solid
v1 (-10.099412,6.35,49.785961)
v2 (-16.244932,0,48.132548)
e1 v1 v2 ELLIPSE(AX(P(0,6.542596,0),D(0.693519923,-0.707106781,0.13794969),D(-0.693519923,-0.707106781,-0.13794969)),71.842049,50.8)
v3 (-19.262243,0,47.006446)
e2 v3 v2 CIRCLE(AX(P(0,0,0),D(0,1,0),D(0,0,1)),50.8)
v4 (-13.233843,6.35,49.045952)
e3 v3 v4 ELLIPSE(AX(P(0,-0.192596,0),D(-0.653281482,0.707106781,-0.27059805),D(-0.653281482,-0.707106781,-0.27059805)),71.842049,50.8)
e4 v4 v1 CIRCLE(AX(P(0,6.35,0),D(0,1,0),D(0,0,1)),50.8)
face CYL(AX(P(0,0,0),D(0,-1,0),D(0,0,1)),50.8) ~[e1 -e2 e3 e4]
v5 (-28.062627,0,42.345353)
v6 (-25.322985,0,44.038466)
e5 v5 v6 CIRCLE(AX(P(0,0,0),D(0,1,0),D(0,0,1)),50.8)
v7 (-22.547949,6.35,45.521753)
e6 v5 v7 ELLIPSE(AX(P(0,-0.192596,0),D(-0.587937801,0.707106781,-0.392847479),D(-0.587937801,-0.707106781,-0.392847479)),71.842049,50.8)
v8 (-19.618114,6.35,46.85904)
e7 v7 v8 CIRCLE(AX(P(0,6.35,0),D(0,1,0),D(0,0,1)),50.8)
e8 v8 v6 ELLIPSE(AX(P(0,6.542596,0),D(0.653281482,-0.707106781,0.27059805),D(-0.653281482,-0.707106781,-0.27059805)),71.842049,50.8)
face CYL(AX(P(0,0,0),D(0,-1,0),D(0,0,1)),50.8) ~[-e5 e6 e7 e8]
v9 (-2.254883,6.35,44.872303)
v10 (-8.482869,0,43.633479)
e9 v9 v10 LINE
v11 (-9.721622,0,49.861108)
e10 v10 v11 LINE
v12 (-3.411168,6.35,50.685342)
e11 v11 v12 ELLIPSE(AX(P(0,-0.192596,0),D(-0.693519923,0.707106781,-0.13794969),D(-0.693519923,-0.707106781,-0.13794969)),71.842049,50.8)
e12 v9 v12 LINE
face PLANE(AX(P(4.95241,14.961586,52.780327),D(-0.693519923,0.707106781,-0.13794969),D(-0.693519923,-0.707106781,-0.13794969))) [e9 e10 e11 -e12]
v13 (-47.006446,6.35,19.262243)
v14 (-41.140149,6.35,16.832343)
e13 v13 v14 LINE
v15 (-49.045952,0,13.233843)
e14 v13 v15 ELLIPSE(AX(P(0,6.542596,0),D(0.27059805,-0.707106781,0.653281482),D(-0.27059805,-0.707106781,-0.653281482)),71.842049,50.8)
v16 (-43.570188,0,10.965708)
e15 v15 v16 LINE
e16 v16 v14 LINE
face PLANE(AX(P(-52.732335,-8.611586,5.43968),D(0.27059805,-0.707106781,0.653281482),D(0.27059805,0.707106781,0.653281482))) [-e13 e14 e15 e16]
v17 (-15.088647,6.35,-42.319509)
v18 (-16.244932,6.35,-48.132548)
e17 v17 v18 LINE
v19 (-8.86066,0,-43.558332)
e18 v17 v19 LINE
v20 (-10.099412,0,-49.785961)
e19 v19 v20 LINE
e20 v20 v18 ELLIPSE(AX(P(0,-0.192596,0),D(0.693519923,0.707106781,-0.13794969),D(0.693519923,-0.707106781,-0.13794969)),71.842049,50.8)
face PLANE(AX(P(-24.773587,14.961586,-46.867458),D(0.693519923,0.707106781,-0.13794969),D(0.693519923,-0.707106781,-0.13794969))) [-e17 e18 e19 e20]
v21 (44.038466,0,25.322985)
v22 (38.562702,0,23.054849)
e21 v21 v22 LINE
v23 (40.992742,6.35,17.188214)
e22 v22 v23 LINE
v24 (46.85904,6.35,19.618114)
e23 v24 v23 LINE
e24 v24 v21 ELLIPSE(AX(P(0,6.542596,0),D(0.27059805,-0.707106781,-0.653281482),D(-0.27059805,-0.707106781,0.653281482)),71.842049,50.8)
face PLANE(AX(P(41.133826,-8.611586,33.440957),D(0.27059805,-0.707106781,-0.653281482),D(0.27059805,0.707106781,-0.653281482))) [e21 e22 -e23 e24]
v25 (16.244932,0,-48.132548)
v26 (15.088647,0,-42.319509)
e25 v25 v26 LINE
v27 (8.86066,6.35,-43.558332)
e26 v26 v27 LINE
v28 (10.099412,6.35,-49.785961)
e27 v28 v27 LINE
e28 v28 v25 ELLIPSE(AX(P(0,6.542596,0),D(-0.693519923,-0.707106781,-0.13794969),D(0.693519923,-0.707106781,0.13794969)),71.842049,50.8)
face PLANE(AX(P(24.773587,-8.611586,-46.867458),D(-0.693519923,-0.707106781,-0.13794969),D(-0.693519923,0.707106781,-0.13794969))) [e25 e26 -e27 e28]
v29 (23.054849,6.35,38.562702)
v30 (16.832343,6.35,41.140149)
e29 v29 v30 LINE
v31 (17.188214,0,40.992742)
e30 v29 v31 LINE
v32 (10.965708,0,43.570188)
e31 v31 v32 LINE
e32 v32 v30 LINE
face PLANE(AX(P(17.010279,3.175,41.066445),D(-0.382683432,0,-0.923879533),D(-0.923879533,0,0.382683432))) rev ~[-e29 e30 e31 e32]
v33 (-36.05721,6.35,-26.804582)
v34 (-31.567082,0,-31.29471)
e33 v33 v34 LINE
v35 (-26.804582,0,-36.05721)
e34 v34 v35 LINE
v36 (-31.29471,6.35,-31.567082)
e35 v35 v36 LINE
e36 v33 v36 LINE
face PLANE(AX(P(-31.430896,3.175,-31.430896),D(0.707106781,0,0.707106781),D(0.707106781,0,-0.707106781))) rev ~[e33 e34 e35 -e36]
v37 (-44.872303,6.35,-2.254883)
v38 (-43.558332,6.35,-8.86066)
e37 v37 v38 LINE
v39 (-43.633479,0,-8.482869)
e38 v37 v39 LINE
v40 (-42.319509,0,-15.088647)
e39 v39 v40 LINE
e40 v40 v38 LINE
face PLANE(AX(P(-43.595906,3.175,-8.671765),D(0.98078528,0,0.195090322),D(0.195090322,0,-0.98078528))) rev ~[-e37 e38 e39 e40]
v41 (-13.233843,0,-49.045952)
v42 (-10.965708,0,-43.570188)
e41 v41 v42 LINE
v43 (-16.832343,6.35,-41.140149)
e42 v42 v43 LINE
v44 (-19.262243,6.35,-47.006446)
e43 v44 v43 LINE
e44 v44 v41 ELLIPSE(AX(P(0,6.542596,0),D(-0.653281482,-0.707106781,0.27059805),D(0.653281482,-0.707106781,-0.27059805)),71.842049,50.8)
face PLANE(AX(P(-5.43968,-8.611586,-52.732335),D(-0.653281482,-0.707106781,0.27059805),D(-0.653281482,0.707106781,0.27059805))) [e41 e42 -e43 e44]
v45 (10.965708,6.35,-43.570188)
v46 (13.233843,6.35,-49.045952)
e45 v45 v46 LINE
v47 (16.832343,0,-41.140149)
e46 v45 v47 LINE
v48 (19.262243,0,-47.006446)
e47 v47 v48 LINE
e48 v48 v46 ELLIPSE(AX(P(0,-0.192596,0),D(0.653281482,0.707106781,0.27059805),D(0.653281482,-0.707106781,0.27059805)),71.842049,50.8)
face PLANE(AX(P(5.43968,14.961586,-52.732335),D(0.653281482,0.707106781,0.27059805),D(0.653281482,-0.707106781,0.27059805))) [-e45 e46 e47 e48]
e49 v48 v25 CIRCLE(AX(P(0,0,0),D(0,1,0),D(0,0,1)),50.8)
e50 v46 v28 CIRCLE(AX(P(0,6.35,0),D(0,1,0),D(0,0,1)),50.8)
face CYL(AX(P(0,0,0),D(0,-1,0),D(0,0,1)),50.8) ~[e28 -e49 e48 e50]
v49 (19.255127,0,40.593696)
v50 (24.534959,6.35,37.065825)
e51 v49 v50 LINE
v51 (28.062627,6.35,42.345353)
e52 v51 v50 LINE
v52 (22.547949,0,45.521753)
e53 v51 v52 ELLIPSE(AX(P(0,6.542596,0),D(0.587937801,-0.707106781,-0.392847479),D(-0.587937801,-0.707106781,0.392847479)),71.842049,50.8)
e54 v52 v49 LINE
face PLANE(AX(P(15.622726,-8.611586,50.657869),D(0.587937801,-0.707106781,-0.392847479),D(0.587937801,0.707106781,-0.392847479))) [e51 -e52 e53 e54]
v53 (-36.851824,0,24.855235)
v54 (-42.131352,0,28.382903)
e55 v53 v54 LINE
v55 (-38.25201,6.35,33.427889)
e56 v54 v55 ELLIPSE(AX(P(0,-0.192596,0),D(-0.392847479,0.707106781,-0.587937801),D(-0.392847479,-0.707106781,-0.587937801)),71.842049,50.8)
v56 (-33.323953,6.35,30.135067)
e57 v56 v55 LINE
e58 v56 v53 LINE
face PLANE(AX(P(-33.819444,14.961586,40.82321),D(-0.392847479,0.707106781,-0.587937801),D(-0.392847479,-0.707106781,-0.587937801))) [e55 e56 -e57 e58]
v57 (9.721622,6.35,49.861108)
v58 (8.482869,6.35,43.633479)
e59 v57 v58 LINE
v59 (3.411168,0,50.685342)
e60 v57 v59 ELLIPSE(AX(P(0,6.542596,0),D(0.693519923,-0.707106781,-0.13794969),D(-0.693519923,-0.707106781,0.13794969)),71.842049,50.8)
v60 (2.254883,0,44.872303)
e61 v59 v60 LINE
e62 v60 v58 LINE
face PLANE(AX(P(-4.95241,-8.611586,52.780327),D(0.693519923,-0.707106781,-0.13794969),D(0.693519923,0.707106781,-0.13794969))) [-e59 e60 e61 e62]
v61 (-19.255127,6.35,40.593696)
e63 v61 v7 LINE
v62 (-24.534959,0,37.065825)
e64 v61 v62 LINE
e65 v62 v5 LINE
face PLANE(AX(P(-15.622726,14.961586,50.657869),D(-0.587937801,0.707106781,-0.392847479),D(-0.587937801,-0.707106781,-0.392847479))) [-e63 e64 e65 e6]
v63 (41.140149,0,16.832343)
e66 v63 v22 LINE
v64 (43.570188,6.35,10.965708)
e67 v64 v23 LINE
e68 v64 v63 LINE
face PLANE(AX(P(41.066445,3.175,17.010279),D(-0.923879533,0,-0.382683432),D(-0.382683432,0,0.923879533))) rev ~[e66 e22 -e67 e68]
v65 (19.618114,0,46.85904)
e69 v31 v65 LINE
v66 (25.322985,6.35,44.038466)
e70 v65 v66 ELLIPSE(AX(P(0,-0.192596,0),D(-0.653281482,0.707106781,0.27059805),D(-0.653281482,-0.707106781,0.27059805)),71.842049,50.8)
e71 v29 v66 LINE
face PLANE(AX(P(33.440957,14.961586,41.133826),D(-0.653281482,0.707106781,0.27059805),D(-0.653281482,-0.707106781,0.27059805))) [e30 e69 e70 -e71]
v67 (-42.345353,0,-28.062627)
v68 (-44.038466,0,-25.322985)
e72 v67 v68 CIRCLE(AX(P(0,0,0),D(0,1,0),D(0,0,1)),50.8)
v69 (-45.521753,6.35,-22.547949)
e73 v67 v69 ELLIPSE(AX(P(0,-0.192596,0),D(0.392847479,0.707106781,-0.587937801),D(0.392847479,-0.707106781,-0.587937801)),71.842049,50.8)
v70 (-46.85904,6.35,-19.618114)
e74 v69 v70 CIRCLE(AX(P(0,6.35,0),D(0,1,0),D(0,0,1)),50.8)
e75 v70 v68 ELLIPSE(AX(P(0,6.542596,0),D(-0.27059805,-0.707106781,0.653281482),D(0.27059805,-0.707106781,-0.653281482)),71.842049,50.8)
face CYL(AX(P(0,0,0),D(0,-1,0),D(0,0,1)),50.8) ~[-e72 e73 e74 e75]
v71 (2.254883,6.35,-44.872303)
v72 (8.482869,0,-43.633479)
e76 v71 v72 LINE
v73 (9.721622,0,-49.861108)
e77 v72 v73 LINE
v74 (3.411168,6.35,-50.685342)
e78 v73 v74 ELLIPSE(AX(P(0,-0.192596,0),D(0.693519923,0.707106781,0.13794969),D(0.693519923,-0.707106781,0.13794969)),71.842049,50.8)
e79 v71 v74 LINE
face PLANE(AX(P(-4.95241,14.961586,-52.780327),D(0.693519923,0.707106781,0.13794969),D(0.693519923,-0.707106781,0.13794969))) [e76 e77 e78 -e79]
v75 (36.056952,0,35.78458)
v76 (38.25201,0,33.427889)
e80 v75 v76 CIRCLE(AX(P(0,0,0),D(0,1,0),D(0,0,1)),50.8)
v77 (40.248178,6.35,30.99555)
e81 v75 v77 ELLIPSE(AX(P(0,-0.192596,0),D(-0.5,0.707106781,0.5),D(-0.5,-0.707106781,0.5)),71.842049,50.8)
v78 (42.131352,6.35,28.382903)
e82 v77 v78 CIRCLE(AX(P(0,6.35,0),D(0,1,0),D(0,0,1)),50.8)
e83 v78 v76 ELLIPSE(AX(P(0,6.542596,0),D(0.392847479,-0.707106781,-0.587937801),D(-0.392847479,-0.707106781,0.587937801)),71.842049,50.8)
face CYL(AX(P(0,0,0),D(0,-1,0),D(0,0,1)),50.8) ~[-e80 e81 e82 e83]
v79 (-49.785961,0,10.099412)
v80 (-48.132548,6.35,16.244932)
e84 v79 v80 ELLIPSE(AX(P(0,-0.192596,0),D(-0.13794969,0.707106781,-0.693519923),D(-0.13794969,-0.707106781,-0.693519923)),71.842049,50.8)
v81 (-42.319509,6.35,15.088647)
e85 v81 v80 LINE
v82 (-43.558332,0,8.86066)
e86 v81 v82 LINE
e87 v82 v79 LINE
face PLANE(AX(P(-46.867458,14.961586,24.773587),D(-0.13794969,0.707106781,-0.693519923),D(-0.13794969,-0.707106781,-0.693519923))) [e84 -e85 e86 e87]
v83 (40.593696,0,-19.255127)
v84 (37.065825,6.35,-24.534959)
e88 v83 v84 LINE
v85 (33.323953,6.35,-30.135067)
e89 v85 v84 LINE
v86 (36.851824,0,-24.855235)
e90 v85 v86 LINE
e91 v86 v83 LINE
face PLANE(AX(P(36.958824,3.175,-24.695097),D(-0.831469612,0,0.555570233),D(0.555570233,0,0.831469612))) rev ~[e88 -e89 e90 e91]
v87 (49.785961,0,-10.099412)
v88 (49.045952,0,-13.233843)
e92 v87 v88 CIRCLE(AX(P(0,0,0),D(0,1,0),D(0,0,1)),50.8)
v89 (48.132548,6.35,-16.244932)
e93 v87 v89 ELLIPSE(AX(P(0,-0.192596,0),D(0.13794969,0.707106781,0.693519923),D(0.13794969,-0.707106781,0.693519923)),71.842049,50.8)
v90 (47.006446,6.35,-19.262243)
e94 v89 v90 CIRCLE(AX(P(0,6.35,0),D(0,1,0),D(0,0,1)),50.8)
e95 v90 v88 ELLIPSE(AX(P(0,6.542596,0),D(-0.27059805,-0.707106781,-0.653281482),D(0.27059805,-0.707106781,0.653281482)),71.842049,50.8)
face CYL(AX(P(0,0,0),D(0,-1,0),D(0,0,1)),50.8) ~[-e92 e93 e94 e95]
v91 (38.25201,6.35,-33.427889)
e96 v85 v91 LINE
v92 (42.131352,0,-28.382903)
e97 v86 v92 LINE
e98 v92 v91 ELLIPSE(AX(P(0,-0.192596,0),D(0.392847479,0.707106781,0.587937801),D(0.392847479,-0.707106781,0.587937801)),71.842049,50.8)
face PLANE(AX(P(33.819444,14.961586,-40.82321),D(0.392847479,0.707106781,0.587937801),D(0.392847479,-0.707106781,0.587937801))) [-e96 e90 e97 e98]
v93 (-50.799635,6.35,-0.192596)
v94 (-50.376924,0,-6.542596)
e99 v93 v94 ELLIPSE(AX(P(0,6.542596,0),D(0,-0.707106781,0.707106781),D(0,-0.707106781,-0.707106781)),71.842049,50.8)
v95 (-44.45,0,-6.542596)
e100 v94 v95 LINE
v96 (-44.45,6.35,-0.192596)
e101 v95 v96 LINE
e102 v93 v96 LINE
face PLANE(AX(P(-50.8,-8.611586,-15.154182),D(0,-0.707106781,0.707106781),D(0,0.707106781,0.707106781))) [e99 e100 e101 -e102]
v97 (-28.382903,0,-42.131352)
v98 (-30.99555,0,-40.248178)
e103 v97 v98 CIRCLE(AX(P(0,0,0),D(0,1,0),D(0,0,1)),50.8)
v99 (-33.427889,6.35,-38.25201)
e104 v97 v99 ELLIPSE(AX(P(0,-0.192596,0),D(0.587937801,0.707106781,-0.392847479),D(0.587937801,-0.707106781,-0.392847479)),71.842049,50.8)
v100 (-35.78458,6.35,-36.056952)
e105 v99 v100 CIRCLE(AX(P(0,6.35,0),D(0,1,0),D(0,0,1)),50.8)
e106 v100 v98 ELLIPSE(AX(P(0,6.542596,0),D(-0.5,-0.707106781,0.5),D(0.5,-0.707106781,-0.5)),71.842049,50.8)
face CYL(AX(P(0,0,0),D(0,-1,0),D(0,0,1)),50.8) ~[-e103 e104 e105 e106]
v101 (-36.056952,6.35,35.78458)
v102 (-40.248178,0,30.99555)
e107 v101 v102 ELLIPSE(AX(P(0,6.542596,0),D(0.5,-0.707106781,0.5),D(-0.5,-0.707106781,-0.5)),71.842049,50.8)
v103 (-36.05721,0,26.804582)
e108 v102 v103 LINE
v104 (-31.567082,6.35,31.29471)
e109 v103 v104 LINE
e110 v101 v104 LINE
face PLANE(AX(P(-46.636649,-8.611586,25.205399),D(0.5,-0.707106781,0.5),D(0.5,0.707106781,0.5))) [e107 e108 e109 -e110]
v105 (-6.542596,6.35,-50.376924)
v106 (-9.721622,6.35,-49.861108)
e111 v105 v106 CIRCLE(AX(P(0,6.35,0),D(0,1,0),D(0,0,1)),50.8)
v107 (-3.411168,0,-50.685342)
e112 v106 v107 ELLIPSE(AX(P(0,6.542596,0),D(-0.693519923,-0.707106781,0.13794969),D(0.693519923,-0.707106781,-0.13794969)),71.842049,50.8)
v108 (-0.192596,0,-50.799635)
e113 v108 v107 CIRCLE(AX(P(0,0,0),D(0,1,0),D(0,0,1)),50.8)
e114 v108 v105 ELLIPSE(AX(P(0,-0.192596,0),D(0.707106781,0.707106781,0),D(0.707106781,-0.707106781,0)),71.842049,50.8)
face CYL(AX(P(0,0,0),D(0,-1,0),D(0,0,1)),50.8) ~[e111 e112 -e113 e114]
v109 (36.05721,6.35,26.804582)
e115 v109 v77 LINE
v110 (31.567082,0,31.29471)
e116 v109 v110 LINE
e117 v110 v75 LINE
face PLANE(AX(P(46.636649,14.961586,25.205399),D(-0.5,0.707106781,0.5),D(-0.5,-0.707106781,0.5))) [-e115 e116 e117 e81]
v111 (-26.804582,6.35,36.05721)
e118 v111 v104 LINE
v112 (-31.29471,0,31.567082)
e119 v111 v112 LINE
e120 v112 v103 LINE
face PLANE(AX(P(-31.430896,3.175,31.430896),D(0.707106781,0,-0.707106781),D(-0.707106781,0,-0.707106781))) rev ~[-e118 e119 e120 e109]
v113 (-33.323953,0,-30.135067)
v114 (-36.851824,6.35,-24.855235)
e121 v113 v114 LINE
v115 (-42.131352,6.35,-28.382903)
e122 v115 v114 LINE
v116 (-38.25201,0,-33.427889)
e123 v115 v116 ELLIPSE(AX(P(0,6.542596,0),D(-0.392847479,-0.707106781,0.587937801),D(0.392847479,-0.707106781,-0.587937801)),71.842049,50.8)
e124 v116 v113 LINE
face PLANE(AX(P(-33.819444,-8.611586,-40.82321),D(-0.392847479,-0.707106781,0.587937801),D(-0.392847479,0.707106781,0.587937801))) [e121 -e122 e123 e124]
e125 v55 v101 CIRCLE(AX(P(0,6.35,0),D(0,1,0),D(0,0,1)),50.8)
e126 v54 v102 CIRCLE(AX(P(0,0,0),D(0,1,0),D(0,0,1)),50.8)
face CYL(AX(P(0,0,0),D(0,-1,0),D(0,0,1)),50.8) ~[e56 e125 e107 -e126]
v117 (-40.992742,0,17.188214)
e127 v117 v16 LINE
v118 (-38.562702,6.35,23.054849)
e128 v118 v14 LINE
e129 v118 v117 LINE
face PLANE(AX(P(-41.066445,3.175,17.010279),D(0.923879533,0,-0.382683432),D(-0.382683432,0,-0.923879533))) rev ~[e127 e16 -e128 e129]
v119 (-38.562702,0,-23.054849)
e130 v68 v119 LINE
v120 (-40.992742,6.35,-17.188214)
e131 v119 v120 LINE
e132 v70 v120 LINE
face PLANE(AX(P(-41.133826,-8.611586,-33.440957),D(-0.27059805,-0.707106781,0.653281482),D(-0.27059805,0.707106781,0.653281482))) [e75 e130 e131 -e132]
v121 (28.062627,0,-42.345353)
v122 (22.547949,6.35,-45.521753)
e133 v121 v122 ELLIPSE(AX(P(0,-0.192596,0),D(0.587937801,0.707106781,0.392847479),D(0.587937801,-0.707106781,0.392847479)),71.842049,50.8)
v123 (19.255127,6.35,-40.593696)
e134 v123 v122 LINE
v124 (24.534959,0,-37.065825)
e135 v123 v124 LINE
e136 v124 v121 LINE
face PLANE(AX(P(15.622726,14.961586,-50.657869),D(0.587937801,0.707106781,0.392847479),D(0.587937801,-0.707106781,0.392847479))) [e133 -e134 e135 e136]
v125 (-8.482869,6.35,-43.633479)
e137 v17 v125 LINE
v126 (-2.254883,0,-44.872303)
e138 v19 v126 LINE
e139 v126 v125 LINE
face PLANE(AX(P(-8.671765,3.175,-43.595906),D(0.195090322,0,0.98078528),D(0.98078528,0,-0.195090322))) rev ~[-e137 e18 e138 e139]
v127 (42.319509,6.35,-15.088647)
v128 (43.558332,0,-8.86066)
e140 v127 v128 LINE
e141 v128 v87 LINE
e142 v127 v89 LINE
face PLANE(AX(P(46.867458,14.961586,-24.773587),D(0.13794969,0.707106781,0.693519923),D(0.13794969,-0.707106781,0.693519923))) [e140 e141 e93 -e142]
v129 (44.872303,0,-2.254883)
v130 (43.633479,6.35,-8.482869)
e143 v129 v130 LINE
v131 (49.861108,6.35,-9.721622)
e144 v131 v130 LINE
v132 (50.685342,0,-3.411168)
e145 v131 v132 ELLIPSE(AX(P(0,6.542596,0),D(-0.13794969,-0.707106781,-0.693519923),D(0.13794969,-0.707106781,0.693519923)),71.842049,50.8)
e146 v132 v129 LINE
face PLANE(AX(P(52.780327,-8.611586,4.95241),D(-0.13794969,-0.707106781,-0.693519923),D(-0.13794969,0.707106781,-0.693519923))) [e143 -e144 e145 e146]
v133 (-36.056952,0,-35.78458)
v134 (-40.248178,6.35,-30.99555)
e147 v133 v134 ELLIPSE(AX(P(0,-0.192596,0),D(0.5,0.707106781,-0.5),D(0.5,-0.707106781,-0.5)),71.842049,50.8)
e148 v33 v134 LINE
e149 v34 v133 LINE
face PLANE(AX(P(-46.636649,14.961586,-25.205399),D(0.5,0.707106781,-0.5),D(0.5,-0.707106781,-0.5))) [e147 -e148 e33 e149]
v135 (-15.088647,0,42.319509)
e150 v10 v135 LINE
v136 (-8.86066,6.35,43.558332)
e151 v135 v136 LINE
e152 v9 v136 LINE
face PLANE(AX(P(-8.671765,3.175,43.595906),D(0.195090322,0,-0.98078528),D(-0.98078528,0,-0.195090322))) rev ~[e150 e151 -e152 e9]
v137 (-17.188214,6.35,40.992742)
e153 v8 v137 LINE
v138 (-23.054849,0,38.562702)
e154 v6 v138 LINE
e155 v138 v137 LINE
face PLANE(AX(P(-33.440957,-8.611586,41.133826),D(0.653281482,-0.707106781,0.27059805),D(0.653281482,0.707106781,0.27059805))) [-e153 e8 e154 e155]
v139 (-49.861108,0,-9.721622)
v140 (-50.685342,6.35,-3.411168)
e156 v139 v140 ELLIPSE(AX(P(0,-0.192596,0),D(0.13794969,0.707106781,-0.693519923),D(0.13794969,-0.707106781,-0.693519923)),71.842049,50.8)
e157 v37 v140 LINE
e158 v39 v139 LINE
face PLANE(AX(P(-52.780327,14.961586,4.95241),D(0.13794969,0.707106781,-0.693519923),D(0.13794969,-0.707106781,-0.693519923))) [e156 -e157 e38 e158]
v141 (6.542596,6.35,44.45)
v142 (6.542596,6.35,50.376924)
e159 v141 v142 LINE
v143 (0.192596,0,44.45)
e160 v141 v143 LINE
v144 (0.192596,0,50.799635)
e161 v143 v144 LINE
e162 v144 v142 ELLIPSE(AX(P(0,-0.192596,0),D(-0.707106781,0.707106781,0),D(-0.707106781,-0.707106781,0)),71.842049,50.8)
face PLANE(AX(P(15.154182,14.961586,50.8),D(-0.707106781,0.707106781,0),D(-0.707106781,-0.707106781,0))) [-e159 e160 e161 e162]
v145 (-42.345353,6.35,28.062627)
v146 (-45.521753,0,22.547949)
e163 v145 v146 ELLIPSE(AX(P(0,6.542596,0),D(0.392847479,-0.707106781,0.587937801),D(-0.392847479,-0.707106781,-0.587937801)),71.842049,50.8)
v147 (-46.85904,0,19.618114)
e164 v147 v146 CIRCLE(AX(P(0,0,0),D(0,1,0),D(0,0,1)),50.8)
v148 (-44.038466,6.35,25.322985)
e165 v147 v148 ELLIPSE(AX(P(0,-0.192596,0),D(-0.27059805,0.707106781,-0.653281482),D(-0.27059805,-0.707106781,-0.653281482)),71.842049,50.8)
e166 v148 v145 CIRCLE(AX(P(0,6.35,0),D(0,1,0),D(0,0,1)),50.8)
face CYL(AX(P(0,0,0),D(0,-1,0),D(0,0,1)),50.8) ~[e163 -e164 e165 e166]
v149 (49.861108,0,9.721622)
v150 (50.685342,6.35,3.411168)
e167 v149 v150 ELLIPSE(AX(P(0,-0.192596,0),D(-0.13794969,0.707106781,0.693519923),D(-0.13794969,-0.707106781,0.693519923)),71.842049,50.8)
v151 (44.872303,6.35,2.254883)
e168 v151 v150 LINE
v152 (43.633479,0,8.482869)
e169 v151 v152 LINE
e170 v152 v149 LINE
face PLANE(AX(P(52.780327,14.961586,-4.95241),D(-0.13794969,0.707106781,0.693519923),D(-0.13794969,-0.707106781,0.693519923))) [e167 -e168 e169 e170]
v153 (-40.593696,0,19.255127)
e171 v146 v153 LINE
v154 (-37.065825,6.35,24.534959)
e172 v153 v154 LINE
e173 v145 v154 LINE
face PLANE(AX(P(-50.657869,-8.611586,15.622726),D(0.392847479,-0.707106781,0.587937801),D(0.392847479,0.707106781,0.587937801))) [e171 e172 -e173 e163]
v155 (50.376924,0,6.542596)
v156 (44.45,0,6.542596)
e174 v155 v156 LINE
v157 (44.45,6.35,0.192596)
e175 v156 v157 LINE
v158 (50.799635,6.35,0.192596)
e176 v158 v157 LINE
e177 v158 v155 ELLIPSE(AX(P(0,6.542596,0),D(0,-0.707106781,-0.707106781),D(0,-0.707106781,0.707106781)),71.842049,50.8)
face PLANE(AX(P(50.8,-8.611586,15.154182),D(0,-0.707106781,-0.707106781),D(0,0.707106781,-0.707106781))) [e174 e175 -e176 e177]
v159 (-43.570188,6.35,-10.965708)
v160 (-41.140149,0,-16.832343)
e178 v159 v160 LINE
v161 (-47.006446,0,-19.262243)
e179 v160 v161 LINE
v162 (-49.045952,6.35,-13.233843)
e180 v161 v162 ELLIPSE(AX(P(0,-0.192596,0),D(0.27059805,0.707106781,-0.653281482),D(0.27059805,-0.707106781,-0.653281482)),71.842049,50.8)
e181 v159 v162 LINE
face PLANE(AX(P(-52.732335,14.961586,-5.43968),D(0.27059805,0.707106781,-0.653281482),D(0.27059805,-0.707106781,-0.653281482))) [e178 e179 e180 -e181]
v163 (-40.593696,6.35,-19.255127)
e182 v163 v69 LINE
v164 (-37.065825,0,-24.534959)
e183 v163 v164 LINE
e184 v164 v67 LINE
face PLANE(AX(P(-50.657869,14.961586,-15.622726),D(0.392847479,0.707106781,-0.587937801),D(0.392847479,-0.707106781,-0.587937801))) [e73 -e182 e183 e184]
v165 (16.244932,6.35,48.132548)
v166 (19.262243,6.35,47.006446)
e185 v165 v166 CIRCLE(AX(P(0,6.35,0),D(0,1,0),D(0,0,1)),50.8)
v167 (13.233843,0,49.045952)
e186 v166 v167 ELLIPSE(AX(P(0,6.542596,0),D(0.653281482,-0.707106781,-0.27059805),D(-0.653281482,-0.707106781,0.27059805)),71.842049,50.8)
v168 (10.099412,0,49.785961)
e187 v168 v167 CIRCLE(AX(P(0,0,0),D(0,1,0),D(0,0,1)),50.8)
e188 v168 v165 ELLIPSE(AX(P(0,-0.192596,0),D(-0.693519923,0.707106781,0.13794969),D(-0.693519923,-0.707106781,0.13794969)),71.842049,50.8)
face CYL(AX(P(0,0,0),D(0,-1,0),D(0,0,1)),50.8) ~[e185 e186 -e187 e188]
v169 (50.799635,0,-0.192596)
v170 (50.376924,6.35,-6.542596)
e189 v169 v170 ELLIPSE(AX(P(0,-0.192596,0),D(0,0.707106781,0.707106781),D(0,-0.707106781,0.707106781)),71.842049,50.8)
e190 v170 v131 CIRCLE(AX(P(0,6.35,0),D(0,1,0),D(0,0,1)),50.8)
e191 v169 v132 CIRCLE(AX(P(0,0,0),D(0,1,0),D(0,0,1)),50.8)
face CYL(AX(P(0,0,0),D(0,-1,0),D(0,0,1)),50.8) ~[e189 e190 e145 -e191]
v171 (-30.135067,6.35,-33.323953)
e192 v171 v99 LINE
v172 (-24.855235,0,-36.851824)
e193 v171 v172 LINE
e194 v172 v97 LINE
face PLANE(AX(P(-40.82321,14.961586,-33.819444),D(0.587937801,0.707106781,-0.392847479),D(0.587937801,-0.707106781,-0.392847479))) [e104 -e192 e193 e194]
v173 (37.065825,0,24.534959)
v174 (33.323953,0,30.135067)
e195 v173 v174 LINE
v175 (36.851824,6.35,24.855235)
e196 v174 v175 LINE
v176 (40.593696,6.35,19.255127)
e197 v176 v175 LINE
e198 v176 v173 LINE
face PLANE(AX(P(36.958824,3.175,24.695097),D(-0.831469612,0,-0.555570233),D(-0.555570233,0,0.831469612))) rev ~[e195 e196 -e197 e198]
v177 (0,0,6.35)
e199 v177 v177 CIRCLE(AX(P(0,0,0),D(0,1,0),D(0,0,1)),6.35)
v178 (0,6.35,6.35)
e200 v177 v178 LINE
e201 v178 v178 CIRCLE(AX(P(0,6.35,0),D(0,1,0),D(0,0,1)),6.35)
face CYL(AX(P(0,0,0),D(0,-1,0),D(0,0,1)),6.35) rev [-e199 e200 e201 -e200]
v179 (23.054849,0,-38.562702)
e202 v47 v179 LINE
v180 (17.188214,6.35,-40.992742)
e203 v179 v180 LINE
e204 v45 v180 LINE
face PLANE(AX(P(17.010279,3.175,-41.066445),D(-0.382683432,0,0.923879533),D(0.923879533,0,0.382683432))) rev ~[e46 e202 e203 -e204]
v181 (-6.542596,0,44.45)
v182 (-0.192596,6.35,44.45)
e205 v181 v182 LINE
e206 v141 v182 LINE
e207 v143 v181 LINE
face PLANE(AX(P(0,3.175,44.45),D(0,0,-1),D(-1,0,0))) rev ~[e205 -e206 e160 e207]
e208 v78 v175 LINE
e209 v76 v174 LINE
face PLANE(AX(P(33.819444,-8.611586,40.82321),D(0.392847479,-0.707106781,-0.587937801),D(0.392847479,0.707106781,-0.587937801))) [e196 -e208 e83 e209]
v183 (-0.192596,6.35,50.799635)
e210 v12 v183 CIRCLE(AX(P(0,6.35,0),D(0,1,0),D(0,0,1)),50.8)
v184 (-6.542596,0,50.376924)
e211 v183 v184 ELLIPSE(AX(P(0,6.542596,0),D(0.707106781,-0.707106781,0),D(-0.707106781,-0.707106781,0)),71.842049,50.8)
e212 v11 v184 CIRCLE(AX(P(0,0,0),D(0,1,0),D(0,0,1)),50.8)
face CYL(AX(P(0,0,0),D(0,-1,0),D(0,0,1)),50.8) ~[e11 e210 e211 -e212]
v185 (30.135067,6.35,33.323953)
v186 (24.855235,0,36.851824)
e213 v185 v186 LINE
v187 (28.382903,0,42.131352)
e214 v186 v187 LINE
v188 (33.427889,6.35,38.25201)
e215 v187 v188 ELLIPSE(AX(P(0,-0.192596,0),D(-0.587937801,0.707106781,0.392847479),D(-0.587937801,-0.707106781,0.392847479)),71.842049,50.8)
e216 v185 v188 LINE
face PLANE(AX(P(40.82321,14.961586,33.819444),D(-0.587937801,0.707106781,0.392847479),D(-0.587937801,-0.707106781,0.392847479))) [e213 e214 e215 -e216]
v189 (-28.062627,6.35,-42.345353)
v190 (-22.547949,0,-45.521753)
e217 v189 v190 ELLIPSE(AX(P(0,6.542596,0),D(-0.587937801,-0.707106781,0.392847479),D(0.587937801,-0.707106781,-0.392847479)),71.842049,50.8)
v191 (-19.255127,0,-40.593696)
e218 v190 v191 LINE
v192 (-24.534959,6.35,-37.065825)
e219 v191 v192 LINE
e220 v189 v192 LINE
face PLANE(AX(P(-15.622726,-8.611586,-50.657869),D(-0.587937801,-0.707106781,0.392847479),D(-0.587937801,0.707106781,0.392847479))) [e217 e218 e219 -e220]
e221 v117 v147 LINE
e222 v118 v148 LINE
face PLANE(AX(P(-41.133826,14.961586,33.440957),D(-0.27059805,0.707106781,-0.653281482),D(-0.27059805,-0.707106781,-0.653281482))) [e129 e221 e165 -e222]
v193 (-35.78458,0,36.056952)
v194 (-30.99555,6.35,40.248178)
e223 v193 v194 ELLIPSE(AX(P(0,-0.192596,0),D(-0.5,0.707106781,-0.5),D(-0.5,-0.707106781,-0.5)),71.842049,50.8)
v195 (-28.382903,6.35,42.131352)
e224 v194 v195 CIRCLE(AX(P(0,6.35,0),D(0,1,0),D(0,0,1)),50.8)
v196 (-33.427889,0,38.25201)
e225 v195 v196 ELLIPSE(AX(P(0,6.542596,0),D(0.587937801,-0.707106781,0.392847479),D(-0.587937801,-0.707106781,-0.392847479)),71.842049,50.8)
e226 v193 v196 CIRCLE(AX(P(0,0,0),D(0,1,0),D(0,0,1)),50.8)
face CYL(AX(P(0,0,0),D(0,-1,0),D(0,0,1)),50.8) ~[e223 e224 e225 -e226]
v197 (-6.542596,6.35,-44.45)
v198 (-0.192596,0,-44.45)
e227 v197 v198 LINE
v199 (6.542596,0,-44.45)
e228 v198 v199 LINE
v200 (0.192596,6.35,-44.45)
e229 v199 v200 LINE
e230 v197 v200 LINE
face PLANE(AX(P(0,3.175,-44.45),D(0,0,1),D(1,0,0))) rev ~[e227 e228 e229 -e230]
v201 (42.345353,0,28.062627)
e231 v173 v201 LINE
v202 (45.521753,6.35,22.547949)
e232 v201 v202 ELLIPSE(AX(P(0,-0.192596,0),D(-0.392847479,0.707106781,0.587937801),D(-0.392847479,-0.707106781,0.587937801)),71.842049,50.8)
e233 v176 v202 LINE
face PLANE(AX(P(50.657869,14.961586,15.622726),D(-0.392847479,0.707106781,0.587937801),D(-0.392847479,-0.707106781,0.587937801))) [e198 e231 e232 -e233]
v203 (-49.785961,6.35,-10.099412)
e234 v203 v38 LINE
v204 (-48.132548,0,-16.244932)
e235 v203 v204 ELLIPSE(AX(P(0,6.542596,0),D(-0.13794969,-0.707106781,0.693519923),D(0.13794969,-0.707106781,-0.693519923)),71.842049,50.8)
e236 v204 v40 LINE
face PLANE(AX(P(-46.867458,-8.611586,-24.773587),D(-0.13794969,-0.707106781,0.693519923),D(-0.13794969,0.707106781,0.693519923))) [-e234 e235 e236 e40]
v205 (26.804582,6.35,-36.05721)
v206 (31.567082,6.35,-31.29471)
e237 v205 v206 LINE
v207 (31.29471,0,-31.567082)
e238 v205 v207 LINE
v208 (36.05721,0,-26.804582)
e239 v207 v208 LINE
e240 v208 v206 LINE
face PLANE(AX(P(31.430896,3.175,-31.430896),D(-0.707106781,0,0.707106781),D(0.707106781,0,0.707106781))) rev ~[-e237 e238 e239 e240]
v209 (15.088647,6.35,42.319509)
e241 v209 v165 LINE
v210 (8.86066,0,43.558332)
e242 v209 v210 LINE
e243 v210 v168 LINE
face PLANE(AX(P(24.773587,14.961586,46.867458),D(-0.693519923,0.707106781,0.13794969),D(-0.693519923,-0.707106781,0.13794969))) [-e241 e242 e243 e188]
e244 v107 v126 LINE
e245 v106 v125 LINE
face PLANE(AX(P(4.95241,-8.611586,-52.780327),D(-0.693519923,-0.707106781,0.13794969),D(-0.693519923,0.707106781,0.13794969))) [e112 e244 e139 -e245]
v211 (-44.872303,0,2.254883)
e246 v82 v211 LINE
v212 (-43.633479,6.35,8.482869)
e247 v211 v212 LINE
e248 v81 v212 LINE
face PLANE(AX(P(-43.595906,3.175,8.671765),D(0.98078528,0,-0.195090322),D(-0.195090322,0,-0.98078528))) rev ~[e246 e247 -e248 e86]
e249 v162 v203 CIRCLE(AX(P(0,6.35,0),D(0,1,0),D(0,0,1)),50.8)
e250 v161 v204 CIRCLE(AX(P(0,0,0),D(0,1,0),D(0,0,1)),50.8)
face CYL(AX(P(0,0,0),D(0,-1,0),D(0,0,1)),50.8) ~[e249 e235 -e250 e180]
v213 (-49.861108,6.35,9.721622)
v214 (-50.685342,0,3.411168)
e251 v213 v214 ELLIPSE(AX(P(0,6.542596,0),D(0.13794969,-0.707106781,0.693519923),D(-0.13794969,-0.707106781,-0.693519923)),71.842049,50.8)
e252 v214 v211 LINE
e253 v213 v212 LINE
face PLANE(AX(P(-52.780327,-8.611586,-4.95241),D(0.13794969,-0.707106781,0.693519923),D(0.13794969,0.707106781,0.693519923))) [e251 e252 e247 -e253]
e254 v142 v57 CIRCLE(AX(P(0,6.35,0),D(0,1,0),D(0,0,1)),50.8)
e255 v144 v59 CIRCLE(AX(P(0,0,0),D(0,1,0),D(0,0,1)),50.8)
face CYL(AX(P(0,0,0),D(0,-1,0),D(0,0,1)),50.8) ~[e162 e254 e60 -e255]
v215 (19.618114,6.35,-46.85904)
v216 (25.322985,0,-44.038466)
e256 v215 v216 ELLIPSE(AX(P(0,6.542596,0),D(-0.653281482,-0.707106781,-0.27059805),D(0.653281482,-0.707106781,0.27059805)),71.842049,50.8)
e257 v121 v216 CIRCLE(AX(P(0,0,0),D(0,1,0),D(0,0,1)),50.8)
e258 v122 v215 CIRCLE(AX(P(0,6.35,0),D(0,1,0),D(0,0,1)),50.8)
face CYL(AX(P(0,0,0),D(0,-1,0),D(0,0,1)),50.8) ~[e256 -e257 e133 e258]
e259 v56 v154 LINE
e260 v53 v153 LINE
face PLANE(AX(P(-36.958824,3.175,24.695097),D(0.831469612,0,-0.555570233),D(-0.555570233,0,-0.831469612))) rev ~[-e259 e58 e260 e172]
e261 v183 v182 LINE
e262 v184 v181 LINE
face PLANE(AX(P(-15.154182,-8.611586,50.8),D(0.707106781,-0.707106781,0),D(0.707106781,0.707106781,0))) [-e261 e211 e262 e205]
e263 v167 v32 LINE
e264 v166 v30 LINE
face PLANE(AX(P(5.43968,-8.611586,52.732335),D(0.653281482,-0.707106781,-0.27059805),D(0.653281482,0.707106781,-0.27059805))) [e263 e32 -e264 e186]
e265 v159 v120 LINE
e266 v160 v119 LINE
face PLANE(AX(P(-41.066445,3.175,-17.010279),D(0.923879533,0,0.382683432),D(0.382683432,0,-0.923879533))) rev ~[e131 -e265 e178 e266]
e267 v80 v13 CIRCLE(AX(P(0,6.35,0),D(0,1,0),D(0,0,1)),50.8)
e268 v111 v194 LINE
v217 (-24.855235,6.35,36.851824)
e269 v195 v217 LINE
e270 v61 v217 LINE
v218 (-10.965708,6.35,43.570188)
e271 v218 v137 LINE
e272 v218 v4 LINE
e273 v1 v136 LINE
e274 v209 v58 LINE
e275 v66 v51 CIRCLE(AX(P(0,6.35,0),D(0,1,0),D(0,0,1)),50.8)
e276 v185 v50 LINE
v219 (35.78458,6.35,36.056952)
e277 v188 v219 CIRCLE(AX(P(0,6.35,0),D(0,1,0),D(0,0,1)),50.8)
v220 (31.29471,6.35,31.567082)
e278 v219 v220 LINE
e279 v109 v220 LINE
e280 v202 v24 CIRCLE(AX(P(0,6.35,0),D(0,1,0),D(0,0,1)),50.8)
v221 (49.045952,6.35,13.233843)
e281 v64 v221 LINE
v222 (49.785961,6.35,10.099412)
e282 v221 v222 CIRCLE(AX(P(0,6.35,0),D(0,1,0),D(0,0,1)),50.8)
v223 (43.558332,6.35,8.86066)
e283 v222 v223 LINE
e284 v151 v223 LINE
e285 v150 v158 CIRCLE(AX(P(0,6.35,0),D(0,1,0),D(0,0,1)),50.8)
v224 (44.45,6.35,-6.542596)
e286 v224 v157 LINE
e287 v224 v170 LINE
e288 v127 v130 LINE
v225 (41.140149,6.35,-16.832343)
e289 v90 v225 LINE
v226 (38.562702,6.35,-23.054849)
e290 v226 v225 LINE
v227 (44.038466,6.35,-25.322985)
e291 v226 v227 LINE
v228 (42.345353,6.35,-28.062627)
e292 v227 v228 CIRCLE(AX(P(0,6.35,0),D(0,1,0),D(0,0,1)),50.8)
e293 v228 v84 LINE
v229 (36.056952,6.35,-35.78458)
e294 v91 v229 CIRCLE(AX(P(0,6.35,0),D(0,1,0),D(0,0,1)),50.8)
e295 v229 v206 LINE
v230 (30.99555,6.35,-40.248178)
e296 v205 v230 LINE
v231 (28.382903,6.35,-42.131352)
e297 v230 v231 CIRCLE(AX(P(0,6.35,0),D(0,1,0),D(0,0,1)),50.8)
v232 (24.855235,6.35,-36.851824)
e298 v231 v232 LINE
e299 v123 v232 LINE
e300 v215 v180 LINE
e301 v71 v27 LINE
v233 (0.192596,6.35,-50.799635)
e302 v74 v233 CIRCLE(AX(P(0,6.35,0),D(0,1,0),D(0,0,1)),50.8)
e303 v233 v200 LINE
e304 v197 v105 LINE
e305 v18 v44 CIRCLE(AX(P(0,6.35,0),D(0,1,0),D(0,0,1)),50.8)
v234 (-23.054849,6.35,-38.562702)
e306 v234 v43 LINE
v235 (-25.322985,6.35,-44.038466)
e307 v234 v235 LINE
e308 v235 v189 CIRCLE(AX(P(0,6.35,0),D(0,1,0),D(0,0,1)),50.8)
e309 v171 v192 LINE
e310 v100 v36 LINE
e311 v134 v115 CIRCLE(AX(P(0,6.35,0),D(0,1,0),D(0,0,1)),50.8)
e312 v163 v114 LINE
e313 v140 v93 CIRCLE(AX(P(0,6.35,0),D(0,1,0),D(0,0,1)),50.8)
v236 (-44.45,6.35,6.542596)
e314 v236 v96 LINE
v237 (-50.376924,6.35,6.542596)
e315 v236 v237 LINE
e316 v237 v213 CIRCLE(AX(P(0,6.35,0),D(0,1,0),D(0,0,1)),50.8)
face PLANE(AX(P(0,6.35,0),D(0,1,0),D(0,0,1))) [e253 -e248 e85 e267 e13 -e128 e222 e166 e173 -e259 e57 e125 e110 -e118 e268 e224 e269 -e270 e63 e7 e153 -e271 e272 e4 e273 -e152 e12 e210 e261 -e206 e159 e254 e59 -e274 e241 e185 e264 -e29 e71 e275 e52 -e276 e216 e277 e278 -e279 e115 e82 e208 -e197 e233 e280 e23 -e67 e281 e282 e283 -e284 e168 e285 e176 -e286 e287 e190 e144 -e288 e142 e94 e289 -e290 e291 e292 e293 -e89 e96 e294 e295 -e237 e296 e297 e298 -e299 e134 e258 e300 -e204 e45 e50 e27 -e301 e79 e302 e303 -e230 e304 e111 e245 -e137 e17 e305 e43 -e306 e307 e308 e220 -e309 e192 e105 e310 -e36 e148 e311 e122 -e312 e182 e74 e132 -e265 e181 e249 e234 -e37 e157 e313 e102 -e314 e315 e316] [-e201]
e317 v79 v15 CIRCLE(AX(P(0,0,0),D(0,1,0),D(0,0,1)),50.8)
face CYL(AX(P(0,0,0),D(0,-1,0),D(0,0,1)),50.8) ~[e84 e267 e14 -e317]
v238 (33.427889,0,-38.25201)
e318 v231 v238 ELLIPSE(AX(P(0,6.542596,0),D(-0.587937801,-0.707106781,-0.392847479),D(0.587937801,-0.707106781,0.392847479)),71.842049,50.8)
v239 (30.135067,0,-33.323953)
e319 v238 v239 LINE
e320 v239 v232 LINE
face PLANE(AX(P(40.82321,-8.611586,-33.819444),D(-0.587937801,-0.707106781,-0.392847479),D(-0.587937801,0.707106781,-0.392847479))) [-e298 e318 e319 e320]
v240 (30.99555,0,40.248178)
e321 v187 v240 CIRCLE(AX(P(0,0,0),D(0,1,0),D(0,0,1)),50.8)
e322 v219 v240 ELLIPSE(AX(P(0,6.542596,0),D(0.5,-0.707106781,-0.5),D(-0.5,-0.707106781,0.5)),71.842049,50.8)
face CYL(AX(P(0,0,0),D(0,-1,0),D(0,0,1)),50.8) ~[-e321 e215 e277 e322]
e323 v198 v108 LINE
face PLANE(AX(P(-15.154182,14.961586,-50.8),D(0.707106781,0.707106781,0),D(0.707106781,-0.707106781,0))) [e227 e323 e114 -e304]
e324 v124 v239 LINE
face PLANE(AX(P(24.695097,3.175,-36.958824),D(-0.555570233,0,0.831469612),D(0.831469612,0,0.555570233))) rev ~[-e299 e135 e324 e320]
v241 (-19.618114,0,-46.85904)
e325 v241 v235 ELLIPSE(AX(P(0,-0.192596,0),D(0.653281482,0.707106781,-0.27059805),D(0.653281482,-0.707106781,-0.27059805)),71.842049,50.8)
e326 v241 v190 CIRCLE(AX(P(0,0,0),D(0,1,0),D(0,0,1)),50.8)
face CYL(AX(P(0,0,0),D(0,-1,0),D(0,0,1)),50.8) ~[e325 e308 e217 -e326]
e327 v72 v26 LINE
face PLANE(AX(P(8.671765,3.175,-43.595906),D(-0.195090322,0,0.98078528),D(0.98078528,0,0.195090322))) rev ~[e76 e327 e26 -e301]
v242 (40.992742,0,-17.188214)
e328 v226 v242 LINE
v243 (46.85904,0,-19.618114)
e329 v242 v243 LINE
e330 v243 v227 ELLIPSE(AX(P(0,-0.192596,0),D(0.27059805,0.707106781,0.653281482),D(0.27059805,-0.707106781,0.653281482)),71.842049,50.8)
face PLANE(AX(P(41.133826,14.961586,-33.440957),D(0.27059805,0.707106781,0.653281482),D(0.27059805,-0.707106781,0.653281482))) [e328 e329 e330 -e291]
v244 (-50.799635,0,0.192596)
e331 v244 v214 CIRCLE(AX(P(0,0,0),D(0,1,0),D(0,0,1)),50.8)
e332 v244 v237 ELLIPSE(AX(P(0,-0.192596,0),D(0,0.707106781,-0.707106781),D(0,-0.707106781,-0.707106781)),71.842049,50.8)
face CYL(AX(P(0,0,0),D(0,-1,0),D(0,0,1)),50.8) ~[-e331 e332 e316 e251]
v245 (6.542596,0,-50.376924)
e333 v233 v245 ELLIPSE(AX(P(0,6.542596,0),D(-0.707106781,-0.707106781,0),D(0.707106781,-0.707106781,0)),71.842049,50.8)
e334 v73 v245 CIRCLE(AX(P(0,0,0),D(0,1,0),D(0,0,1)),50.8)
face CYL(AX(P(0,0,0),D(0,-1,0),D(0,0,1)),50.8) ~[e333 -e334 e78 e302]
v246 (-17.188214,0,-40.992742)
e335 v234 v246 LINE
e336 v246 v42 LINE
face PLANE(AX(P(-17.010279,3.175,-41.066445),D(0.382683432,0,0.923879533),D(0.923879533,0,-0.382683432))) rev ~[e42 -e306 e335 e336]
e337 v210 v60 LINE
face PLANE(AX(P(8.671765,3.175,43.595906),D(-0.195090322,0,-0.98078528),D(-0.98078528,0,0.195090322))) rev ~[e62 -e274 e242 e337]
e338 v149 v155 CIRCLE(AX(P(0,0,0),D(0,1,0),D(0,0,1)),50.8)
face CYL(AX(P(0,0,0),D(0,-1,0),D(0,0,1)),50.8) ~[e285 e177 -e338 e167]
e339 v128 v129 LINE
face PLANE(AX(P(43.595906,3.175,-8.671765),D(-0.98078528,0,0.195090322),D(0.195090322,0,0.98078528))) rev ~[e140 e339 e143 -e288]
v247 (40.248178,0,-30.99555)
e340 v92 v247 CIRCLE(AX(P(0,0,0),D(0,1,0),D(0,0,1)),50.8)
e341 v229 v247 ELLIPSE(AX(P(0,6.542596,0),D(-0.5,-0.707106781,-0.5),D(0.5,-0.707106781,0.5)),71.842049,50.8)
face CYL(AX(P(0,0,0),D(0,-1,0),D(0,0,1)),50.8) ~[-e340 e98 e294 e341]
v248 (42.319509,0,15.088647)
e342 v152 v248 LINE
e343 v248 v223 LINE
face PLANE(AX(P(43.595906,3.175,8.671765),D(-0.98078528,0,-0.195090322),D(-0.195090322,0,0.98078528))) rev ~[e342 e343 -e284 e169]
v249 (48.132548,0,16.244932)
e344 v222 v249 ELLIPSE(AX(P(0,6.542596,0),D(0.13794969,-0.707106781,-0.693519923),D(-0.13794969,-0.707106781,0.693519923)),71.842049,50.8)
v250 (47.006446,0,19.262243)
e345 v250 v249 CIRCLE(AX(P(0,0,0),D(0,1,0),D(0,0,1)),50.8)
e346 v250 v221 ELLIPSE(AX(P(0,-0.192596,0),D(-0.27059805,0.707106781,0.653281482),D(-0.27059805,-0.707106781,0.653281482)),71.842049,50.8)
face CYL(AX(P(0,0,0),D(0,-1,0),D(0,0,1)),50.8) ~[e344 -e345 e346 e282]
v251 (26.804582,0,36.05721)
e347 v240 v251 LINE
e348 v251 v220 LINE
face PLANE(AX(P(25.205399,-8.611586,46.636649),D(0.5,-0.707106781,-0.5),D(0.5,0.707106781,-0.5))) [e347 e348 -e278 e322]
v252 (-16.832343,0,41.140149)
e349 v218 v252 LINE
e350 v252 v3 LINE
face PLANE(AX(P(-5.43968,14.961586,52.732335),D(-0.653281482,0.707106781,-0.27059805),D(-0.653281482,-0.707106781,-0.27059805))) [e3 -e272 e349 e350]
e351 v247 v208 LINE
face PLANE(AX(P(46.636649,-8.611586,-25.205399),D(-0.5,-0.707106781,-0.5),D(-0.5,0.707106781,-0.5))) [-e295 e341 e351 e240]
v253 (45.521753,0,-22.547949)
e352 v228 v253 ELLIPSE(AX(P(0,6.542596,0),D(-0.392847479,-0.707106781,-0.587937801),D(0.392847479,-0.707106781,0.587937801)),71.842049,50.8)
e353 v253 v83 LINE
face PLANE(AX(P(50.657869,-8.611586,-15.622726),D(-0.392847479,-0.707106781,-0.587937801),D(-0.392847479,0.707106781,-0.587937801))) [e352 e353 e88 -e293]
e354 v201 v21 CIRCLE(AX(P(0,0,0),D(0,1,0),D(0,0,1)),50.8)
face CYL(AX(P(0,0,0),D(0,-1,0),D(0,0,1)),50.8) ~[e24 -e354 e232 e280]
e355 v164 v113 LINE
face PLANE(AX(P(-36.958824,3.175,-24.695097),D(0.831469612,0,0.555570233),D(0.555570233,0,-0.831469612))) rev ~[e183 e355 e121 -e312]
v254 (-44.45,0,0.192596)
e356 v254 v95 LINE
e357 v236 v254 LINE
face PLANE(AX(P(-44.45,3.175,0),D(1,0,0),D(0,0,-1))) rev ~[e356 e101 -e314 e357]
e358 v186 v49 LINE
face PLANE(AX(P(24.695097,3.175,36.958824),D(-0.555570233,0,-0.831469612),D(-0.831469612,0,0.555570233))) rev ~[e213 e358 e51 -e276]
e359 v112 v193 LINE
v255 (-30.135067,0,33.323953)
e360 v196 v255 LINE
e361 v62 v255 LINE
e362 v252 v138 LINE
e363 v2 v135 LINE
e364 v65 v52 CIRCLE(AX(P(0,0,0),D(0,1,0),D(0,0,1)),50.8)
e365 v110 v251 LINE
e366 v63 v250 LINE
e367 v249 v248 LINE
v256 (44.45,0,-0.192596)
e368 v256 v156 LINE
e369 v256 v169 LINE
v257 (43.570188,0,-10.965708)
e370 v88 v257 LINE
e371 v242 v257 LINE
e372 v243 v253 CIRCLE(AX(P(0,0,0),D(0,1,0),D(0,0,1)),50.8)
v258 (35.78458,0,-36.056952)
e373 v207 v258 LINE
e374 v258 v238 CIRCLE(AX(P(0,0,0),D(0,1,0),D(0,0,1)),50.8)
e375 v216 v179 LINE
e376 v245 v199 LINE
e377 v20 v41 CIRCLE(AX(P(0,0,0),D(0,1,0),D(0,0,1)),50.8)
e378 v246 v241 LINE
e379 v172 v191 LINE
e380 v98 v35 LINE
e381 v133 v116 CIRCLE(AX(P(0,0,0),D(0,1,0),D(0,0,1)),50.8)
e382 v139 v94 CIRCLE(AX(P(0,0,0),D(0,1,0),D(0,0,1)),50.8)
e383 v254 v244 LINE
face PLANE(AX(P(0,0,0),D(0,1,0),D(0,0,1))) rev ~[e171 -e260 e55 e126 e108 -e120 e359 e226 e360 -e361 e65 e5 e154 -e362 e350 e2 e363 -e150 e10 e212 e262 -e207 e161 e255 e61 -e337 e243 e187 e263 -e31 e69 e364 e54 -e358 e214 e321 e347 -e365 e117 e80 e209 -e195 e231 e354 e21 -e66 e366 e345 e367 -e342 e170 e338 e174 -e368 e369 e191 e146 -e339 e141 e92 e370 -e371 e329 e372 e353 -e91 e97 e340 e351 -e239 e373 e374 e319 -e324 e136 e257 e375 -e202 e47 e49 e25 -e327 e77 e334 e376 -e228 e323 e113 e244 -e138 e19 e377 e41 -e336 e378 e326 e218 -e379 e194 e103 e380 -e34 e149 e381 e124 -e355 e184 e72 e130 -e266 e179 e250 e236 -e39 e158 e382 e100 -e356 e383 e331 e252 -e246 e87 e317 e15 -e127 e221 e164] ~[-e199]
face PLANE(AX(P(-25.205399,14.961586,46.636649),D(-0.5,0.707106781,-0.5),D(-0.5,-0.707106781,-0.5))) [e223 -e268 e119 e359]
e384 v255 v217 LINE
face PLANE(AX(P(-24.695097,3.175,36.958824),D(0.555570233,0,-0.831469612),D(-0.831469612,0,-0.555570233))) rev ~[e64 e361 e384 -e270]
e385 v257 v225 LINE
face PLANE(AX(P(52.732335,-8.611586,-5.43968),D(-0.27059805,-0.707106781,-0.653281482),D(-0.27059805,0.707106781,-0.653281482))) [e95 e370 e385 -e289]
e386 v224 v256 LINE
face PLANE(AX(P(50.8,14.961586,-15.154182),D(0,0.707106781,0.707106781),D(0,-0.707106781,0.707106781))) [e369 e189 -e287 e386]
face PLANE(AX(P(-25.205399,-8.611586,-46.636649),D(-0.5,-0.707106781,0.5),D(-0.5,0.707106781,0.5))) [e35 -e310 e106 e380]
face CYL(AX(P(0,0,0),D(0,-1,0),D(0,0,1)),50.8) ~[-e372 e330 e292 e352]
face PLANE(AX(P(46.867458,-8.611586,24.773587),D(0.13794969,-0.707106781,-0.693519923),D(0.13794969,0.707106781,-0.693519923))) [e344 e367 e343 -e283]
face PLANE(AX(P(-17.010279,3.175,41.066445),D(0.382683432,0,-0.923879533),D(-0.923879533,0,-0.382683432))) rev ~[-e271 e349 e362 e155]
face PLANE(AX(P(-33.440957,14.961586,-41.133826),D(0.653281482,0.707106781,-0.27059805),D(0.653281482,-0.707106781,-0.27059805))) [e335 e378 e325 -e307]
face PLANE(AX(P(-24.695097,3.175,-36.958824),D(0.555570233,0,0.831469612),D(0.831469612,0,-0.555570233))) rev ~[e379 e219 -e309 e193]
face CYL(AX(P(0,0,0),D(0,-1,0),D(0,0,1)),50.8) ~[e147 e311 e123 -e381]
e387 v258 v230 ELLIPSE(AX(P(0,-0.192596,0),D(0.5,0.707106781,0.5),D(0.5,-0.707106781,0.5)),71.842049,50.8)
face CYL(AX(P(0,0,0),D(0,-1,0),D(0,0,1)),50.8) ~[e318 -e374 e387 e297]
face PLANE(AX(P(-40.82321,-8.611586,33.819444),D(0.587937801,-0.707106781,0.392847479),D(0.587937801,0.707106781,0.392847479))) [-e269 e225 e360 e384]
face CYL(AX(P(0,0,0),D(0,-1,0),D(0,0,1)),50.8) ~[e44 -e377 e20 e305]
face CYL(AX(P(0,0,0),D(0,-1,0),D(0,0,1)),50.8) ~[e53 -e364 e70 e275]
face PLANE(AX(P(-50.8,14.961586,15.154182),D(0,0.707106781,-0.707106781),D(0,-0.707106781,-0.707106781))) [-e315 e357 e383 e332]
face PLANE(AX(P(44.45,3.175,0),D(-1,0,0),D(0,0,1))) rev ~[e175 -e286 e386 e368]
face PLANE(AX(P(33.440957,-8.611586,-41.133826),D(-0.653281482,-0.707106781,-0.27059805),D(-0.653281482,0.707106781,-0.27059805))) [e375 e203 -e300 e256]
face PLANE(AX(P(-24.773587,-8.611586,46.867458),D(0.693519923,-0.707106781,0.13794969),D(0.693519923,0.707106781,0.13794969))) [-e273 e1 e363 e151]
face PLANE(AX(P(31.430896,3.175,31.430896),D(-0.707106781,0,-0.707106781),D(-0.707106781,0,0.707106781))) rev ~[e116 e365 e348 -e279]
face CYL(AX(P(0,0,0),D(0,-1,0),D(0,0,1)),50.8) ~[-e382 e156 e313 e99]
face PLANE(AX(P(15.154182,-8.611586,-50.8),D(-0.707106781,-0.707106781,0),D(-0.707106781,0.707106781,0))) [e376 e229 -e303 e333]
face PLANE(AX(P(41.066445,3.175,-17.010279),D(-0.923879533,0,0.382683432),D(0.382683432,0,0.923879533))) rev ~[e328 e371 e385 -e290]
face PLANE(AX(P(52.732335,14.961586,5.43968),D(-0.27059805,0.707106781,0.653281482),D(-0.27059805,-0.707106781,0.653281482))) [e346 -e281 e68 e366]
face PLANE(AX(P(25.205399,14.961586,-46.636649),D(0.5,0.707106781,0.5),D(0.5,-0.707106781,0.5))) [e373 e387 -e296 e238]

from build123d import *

# Parameters (mm, degrees)
SKETCH1_R           = 50.8
SKETCH1_R_2         = 6.35
BOSS_EXTRUDE1_DEPTH = 6.35
CUT_EXTRUDE1_DEPTH  = 6.35
CIRPATTERN1_COUNT   = 32


with BuildPart() as part:
    # Sketch1 → Boss-Extrude1 (new body)
    with BuildSketch(Plane(origin=(0, 0, 0), x_dir=(1, 0, 0), z_dir=(0, 1, 0))):
        with Locations(Location((0, 0, 0), (0, 0, 270))):
            Circle(SKETCH1_R)
        with Locations(Location((0, 0, 0), (0, 0, 270))):
            Circle(SKETCH1_R_2, mode=Mode.SUBTRACT)
    extrude(amount=BOSS_EXTRUDE1_DEPTH)

    # Sketch2 → Cut-Extrude1 (cut)
    with BuildSketch(Plane.XY.offset(50.8)):
        Polygon((15.154182204, 14.961586159), (-11.786586159, -11.979182204), (-15.154182204, -8.611586159), (11.786586159, 18.329182204), align=None)
    cut_extrude1 = extrude(amount=-CUT_EXTRUDE1_DEPTH, mode=Mode.SUBTRACT)

    # CirPattern1: Cut-Extrude1 ×32 about axis
    cirpattern1_axis = Axis((0, 0, 0), (0, 1, 0))
    for i in range(1, CIRPATTERN1_COUNT):
        add(cut_extrude1.rotate(cirpattern1_axis, i * 360 / CIRPATTERN1_COUNT), mode=Mode.SUBTRACT)


solid = part.part
